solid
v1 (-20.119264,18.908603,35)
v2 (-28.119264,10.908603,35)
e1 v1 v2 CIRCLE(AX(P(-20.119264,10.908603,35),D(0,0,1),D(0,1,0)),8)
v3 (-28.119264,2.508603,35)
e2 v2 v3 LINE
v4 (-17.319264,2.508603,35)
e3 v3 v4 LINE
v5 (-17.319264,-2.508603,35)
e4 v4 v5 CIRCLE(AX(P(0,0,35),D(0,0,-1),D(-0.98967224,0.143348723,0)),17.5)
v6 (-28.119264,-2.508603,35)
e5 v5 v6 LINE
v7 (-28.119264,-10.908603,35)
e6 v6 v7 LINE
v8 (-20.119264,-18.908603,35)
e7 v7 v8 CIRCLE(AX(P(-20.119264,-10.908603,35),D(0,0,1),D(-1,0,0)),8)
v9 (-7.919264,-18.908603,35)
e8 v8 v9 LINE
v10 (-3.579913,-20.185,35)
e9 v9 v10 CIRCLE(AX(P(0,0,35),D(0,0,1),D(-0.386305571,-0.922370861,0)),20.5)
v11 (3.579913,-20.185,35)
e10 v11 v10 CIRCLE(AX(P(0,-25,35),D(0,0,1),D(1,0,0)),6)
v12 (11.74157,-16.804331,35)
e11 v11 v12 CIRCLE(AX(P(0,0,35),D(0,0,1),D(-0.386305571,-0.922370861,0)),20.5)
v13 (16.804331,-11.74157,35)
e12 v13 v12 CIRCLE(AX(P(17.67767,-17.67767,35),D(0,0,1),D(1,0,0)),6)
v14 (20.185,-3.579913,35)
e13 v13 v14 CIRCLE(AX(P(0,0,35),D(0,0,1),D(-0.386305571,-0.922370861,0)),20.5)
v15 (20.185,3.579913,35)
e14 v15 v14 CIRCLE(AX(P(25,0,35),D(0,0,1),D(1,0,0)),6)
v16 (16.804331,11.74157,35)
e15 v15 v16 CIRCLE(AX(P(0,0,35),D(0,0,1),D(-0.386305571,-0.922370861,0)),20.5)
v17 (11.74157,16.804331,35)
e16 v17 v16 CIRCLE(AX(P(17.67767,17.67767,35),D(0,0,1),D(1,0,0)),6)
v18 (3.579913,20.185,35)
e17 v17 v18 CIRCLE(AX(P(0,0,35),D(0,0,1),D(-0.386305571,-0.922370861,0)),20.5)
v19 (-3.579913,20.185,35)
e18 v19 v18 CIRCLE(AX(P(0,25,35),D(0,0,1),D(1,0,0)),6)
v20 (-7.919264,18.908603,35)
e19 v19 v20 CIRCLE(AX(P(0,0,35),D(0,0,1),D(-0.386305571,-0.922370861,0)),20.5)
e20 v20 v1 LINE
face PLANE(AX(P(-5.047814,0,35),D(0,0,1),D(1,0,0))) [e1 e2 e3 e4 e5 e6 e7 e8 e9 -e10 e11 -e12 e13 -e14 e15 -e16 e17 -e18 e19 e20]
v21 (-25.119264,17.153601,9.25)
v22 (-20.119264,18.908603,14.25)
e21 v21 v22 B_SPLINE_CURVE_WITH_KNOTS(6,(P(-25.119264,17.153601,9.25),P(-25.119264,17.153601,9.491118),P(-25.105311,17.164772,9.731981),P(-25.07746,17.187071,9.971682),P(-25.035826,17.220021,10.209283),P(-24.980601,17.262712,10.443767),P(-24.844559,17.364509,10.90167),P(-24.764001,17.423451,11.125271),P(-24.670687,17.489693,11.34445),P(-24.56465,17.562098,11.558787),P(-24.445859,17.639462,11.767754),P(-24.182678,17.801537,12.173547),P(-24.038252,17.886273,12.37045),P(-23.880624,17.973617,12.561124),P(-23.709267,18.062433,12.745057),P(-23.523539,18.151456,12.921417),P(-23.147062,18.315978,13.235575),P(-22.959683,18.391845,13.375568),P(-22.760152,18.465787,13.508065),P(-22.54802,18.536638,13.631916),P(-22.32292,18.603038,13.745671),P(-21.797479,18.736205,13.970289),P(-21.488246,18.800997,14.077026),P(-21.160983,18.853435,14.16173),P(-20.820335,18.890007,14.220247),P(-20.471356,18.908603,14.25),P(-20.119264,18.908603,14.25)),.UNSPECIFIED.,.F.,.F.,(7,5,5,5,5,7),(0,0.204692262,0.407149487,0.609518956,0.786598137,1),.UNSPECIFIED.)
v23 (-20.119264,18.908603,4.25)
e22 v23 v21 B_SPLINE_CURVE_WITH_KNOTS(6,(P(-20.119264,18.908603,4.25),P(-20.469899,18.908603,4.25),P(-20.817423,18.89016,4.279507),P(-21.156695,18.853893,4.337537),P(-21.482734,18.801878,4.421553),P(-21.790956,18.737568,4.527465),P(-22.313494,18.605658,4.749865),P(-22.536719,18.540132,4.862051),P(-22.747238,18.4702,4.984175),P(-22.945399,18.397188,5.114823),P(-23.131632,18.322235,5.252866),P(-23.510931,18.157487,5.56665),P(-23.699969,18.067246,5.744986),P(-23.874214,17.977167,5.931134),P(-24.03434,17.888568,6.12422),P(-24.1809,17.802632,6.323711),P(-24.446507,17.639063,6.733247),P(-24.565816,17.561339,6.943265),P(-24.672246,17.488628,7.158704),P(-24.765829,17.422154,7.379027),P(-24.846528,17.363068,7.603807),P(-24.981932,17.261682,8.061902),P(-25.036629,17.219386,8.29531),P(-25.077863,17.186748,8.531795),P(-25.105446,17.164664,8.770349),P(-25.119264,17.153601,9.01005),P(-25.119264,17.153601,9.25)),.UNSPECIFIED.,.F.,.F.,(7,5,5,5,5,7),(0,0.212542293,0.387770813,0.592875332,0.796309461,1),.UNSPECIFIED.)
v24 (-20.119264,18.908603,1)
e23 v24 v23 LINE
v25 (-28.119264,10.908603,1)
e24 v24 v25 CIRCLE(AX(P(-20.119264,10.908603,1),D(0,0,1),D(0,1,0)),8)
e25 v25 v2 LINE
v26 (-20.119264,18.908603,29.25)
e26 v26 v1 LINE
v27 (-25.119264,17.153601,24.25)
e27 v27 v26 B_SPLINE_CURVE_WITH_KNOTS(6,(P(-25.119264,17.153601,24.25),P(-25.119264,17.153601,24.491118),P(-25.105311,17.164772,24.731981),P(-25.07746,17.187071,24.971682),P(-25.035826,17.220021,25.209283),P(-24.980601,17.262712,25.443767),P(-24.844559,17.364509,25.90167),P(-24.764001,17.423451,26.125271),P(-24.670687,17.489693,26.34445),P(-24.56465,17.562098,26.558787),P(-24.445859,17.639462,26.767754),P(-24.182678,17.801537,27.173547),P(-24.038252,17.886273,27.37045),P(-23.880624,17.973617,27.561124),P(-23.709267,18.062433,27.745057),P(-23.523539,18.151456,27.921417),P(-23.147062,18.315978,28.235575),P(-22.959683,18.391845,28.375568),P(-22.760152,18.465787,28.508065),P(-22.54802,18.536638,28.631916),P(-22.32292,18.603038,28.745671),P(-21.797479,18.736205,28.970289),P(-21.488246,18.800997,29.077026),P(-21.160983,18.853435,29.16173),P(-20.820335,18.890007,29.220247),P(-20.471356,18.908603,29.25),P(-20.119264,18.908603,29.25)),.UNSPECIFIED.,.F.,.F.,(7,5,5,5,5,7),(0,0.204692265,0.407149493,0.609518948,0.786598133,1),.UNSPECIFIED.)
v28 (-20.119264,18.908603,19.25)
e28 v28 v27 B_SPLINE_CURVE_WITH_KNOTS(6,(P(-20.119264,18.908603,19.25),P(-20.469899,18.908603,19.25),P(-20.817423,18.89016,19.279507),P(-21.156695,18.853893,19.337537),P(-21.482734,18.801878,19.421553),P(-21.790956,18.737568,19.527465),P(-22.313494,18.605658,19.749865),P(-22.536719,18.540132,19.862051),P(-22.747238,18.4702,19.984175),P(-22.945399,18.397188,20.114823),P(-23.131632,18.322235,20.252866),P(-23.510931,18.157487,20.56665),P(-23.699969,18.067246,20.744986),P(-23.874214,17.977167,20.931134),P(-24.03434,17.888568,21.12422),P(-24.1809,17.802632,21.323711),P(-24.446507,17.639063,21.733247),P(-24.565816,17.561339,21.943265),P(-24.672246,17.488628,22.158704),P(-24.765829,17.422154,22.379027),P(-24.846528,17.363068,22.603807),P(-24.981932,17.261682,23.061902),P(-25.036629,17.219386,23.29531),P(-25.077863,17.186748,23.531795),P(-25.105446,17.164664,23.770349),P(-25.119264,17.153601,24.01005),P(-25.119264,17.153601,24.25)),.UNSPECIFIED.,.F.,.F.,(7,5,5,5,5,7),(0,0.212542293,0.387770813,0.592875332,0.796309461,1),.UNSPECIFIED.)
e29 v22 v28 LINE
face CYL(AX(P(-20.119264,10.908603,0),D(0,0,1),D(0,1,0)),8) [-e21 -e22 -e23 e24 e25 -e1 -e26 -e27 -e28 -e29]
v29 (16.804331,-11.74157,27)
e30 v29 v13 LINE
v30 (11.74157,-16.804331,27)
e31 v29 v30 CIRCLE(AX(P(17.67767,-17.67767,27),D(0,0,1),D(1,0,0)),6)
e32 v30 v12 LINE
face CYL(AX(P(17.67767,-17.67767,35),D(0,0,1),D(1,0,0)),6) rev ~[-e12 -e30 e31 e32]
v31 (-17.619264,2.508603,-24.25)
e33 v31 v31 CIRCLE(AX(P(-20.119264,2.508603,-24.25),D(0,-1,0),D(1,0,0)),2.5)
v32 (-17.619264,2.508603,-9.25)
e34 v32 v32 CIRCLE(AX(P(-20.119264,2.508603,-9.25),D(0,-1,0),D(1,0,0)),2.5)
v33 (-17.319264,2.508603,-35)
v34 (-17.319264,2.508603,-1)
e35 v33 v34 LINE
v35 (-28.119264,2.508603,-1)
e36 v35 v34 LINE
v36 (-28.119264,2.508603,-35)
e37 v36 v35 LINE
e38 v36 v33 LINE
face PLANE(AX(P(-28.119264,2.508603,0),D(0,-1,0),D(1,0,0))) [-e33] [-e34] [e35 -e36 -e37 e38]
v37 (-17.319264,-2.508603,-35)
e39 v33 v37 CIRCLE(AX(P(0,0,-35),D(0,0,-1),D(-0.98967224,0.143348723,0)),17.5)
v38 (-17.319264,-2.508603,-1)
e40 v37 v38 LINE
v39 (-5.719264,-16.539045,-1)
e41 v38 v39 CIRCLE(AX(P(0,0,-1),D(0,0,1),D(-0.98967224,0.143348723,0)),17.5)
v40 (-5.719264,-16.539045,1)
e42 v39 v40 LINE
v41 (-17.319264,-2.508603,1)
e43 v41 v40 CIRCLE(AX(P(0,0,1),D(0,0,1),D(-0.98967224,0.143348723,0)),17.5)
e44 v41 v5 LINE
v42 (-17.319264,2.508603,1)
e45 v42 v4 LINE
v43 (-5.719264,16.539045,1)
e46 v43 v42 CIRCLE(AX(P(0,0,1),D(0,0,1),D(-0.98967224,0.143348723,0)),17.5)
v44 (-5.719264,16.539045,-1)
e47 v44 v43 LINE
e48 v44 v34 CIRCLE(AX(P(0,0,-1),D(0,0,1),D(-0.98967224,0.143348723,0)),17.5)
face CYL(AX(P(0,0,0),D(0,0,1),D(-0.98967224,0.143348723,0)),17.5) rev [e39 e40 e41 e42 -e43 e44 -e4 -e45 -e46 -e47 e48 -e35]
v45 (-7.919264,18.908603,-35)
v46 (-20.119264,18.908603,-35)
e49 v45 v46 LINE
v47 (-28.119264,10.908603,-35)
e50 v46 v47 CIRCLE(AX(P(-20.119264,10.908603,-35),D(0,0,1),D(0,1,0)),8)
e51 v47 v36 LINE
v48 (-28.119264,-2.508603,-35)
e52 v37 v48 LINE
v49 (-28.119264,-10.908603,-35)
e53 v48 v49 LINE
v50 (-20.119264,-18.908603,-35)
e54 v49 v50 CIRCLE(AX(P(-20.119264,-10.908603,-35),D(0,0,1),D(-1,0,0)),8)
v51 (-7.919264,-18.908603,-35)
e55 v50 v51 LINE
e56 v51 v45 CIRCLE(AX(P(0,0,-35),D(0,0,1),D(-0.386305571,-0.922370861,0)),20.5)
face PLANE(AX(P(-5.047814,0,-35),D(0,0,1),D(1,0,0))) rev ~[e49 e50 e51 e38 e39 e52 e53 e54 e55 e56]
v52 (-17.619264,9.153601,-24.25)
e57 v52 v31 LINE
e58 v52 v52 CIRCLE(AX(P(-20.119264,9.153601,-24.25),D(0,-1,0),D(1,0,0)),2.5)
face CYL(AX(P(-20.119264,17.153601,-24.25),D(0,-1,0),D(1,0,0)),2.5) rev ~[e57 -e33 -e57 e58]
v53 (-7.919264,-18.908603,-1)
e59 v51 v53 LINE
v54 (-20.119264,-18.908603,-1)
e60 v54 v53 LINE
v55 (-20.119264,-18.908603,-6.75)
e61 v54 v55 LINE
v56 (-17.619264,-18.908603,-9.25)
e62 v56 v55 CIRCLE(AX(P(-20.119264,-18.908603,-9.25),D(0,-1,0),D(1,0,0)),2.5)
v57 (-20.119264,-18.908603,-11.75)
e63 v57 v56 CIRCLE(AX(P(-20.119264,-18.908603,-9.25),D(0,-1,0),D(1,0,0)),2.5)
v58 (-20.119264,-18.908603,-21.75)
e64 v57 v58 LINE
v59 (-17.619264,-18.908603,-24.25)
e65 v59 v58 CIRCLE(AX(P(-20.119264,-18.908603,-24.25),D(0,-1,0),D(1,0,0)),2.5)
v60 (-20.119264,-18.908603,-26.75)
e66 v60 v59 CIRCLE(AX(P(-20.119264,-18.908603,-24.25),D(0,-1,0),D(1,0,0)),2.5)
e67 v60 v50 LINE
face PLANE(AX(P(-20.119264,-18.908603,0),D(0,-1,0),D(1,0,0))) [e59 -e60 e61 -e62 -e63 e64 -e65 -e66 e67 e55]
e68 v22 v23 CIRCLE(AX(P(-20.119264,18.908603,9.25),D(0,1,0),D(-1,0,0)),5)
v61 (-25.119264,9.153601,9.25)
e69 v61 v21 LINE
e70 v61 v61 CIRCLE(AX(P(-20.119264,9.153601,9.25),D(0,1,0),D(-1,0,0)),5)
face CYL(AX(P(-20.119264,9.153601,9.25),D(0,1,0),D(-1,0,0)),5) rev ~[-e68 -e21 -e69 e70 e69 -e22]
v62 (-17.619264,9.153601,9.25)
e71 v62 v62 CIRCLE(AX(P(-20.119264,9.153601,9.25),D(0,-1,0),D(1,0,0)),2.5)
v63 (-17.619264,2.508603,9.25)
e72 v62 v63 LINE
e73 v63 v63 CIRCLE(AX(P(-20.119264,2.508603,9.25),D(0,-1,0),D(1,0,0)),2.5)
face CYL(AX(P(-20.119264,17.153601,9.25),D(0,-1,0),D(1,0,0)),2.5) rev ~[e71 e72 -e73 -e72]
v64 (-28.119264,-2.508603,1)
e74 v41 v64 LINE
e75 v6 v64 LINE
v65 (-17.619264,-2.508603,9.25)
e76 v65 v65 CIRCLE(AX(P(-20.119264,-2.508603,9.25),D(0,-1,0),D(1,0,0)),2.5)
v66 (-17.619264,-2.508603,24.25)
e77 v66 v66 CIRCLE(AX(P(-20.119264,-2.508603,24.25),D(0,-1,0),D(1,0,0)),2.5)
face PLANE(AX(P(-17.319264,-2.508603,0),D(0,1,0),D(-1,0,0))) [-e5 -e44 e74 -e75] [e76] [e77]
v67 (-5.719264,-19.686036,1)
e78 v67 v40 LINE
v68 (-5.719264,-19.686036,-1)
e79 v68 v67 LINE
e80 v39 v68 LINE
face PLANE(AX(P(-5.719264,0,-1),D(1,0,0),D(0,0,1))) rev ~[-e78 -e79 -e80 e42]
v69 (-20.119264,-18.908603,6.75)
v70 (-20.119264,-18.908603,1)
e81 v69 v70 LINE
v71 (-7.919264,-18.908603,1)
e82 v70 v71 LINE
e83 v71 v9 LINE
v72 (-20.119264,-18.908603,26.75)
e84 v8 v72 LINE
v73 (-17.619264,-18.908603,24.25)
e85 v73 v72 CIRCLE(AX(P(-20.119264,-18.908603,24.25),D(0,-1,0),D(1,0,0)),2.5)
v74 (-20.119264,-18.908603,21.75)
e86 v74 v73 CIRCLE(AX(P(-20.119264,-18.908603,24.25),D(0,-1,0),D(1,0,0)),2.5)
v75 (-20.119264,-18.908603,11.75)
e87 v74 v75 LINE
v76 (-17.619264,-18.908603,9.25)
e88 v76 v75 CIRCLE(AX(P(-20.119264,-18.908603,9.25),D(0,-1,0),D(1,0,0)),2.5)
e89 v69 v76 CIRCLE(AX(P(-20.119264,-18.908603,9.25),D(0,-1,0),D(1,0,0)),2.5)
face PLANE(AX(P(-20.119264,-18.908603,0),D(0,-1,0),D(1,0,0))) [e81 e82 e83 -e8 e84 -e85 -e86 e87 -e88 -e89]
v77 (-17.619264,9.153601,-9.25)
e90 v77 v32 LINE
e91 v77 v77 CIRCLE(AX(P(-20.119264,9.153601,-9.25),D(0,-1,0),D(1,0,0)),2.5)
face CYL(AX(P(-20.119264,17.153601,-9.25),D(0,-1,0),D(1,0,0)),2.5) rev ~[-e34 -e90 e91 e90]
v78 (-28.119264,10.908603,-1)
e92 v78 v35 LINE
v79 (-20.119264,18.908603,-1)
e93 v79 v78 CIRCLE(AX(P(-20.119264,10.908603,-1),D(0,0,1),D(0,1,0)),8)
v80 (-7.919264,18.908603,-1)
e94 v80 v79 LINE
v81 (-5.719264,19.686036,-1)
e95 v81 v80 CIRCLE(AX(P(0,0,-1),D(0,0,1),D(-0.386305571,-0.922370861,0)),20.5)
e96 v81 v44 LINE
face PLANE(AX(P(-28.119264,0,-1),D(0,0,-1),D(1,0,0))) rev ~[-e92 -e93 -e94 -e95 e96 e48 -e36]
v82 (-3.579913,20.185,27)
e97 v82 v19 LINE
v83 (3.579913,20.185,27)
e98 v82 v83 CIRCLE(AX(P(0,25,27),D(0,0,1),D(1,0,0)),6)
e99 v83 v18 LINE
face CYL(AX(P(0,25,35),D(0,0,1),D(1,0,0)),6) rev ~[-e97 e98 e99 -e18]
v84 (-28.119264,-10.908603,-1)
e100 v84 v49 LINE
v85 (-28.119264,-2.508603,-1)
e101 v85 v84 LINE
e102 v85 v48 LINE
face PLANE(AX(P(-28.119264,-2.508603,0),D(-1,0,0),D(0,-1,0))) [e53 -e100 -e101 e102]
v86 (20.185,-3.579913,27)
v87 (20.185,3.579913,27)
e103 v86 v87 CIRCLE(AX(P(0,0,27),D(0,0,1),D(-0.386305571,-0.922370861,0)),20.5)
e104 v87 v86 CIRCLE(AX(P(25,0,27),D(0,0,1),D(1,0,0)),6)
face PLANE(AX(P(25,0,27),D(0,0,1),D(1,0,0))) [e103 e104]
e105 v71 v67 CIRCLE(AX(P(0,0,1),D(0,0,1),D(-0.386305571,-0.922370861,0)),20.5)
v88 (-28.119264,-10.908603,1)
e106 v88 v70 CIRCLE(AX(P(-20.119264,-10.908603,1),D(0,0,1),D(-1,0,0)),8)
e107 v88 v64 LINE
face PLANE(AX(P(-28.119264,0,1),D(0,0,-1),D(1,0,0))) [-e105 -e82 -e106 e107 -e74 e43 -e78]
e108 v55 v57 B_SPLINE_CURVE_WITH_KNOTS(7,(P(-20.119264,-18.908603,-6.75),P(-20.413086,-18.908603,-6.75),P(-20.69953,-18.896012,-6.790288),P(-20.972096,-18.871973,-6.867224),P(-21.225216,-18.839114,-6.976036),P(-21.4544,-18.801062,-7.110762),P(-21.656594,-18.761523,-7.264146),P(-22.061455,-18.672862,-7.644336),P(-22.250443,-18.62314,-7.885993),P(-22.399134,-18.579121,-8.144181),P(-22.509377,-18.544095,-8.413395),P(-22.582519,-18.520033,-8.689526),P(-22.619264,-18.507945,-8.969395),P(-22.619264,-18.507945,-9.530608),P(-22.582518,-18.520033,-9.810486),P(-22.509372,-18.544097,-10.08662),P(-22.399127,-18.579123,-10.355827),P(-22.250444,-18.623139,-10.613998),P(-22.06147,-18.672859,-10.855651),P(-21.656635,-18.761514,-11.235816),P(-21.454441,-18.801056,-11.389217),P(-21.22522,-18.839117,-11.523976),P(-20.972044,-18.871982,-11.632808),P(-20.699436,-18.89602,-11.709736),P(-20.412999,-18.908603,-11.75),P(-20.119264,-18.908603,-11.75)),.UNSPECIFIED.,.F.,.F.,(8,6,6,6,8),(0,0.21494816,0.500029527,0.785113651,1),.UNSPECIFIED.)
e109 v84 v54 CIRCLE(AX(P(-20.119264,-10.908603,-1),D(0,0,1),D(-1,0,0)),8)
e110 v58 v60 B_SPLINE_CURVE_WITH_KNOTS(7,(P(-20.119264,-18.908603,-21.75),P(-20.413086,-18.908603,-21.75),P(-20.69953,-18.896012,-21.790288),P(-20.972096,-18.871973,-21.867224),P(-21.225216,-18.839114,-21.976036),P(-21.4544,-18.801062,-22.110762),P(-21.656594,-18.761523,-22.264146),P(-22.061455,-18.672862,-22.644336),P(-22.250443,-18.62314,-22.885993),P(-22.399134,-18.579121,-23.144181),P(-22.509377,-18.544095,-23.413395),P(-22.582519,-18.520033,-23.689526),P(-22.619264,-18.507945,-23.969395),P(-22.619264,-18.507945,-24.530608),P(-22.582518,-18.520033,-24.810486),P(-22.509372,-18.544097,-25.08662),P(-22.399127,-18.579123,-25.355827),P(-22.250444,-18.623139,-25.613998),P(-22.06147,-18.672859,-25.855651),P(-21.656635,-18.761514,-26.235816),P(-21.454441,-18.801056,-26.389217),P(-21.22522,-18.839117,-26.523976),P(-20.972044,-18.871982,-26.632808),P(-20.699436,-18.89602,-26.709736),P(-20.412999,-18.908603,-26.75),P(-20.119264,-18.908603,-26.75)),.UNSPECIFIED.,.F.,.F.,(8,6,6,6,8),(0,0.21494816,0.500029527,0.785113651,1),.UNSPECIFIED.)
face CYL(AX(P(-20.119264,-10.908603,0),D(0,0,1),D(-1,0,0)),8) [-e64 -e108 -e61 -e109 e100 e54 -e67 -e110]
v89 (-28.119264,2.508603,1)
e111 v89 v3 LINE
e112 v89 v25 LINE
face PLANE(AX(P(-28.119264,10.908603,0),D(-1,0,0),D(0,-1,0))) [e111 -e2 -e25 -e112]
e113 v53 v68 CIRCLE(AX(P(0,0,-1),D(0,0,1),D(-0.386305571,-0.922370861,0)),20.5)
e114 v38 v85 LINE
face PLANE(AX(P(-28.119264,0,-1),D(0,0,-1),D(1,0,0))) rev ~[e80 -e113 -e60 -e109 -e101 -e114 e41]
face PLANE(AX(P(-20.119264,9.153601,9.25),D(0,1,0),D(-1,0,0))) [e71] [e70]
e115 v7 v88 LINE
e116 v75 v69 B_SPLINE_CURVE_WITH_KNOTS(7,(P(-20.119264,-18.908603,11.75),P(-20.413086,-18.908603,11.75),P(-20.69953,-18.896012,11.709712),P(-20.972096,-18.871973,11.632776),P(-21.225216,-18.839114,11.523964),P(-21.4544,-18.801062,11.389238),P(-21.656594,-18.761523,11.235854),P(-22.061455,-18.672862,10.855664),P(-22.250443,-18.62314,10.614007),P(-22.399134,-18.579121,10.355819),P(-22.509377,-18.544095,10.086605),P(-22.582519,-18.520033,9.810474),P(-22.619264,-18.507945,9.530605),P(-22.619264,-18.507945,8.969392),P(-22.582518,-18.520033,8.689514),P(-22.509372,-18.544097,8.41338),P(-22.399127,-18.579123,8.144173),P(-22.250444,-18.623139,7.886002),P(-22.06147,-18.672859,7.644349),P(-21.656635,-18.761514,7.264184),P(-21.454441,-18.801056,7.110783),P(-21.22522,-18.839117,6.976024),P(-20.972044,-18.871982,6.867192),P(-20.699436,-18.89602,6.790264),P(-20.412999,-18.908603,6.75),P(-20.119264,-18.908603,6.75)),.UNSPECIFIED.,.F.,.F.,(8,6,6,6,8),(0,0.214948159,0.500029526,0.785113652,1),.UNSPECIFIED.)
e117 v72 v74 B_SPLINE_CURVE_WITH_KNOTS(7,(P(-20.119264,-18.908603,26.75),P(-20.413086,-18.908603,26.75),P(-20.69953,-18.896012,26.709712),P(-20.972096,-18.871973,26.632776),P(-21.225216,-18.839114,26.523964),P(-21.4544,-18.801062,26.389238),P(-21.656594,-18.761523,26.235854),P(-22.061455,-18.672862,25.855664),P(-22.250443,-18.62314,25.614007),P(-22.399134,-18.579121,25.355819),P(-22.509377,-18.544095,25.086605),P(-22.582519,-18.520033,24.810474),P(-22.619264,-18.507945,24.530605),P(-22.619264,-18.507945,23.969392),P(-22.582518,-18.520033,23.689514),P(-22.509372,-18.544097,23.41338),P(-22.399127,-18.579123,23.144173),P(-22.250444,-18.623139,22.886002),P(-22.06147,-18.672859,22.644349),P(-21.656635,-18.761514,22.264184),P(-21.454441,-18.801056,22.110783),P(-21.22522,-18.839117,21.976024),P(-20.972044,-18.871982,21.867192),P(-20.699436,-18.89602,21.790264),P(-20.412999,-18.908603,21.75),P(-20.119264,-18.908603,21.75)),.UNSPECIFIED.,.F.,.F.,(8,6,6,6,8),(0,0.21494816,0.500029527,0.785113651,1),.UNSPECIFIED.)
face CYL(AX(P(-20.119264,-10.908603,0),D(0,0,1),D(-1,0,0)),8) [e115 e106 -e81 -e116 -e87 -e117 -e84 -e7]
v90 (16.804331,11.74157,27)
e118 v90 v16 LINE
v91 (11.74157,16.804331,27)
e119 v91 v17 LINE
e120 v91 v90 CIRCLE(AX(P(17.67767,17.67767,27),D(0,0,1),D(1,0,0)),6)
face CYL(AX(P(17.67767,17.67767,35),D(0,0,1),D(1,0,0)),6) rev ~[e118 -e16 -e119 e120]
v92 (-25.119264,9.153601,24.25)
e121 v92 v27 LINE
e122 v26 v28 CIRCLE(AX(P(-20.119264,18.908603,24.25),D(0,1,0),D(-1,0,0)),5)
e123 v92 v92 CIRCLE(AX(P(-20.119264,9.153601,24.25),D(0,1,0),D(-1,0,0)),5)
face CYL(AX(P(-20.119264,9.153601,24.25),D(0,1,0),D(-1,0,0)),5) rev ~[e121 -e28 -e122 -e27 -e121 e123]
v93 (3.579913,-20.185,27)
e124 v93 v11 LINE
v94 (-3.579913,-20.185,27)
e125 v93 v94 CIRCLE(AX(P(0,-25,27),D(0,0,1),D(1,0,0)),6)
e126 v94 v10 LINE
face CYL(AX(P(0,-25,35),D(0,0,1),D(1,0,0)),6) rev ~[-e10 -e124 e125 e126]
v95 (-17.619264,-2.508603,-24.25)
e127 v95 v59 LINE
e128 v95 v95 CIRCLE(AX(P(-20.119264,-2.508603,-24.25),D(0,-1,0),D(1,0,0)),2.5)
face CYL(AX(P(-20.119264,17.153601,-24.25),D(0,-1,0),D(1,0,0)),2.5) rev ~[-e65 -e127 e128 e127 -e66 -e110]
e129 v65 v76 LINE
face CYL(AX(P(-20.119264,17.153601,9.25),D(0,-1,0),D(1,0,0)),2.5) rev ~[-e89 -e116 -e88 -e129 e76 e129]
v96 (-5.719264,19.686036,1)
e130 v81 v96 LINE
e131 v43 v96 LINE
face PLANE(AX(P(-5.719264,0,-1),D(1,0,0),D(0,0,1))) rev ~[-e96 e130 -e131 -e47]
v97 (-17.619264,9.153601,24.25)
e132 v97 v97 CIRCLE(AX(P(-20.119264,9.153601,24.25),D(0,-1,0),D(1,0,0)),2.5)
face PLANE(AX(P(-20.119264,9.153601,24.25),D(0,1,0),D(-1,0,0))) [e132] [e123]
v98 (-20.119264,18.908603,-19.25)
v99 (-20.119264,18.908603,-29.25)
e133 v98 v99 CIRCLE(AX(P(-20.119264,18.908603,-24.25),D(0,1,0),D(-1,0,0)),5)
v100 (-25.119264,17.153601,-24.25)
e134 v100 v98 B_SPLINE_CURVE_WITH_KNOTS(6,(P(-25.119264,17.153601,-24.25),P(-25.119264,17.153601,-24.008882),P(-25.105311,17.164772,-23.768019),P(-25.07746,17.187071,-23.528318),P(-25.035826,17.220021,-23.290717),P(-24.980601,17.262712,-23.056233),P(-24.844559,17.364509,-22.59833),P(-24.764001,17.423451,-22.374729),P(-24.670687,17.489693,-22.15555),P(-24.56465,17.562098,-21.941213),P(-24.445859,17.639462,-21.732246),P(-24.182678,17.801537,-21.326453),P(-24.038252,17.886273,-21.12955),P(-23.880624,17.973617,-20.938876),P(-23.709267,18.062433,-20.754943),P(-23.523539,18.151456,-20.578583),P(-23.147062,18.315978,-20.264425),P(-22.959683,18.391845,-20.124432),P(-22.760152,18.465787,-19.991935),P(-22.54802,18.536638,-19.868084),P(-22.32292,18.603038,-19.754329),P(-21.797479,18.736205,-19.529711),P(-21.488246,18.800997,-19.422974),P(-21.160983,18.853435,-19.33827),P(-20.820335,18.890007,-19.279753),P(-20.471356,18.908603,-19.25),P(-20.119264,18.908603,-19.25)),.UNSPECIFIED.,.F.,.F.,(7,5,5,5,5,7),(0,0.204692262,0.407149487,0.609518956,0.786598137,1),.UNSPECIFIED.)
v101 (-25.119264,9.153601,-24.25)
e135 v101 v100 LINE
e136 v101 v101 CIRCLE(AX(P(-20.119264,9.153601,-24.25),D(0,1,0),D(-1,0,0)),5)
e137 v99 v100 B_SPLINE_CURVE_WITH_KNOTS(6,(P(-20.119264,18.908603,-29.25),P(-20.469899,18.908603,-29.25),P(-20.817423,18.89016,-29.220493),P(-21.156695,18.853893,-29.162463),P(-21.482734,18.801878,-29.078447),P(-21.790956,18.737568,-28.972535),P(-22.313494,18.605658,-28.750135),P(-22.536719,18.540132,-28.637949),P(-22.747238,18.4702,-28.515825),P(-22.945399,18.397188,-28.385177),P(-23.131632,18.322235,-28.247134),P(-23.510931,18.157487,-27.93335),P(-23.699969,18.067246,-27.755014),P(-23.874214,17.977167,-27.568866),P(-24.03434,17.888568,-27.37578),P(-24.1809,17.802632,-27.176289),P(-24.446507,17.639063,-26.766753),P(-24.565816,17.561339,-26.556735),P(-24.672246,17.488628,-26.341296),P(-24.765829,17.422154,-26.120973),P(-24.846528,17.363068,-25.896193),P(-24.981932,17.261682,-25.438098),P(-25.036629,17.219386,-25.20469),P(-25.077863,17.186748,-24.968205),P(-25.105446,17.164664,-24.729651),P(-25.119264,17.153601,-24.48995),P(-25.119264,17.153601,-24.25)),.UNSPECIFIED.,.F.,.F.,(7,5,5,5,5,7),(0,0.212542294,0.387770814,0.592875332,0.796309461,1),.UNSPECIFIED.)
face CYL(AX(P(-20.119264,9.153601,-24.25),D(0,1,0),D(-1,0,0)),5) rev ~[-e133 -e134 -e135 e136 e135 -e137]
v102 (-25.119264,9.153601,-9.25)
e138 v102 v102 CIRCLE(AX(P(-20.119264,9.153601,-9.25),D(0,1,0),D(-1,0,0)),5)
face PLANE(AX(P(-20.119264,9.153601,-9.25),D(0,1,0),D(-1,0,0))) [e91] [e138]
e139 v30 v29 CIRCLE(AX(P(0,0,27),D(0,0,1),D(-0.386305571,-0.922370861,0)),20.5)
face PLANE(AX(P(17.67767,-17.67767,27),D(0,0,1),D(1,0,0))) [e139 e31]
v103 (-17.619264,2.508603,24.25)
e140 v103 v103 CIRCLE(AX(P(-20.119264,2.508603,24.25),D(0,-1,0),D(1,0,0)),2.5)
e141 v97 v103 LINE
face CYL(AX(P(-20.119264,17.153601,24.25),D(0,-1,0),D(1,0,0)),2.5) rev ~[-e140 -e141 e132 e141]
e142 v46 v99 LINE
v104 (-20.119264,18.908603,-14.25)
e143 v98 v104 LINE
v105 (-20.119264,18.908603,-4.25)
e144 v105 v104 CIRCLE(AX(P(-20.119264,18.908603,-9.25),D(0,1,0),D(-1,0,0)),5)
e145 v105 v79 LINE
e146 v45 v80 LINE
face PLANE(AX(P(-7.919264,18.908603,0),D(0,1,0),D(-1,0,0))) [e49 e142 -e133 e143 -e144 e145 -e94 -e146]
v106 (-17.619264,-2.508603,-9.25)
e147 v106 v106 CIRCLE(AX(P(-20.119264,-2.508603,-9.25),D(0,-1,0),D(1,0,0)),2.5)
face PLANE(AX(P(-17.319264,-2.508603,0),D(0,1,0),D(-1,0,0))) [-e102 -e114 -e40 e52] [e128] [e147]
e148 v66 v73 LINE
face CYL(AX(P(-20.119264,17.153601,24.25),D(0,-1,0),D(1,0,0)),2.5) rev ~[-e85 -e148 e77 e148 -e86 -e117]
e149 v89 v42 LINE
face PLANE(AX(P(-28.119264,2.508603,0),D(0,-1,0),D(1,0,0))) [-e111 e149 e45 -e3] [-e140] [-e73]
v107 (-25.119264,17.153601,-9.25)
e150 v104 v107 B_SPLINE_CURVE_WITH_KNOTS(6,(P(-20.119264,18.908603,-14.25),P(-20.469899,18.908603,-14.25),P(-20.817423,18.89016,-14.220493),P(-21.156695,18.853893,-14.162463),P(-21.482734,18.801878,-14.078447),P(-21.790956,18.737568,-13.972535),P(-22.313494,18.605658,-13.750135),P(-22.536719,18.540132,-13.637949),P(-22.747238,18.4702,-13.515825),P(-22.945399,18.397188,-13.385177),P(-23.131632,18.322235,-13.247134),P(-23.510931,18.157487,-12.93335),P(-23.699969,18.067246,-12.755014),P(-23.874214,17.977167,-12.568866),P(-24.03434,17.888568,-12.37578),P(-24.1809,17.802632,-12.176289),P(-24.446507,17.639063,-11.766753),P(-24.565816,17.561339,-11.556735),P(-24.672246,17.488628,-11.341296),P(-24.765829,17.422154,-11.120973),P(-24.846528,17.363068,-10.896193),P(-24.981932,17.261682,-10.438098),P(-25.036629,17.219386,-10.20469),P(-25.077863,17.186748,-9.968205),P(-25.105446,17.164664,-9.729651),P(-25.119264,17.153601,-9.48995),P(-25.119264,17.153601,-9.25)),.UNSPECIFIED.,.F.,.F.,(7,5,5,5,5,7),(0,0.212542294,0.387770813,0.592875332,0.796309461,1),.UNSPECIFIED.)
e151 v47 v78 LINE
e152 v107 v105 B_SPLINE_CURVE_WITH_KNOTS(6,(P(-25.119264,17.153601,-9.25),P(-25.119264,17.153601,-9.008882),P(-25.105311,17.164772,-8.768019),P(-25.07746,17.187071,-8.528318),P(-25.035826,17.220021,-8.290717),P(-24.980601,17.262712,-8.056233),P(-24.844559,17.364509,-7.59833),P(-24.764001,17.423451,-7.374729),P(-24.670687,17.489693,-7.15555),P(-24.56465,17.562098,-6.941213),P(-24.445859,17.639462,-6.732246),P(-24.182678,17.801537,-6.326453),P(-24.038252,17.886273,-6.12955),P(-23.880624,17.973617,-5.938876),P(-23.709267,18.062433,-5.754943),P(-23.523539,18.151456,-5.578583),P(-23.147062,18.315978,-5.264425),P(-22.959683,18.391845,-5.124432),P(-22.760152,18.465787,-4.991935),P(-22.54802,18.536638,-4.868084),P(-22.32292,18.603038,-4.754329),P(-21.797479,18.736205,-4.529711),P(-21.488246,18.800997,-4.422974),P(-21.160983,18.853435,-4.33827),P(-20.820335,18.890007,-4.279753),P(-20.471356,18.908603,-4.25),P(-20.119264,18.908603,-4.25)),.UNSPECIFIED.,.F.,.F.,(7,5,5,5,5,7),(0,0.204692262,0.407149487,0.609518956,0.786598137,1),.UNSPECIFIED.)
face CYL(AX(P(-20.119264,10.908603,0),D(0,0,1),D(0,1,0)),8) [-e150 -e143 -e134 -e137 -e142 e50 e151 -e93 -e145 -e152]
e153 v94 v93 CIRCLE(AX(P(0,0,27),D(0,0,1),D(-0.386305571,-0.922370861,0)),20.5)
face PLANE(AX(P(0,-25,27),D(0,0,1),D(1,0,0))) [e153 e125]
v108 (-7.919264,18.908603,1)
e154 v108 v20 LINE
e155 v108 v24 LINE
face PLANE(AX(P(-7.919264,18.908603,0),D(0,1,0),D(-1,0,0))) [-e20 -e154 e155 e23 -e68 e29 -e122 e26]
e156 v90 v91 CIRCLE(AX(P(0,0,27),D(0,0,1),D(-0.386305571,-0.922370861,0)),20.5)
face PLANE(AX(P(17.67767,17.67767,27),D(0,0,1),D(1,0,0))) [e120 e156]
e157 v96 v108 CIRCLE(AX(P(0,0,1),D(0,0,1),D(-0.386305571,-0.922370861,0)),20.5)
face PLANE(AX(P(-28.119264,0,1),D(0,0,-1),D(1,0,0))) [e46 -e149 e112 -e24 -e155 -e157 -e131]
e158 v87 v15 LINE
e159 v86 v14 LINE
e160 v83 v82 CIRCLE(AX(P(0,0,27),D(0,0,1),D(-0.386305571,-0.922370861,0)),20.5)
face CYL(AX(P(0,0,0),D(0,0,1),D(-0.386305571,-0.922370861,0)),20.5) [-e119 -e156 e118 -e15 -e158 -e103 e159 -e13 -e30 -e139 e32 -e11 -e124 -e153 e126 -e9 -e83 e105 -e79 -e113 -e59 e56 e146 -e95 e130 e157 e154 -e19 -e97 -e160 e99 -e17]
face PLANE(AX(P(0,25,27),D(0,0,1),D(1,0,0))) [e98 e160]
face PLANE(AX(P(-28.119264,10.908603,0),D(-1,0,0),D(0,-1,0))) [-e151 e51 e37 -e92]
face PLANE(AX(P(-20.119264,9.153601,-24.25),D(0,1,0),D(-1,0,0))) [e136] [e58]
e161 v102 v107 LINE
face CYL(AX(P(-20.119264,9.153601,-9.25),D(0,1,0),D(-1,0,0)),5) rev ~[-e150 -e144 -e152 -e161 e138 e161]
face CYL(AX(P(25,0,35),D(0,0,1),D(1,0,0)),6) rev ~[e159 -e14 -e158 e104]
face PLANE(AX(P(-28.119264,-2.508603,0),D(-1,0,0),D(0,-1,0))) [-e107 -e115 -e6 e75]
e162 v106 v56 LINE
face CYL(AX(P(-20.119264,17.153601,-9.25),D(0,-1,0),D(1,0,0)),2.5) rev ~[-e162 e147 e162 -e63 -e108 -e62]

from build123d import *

# Parameters (mm, degrees)
F1_DEPTH       = 35
F3_D           = 5
F3_START       = 1.7550021
F3_CBORE_D     = 10
F3_CBORE_DEPTH = 8
F4_W           = 22.4
F4_H           = 2
F5_DEPTH       = 25
F6_R           = 6
F7_DEPTH       = 8


with BuildPart() as f1:
    # F0 (on Top) → F1 (new body, symmetric)
    with BuildSketch(Plane.XY):
        with BuildLine():
            Line((-20.1192642082, -18.9086026559), (-7.9192642082, -18.9086026559))
            ThreePointArc((-7.9192642082, -18.9086026559), (20.5, 0), (-7.9192642082, 18.9086026559))
            Line((-7.9192642082, 18.9086026559), (-20.1192642082, 18.9086026559))
            ThreePointArc((-20.1192642082, 18.9086026559), (-25.7761184577, 16.5654569054), (-28.1192642082, 10.9086026559))
            Line((-28.1192642082, 10.9086026559), (-28.1192642082, 2.5086026559))
            Line((-28.1192642082, 2.5086026559), (-17.3192642082, 2.5086026559))
            ThreePointArc((-17.3192642082, 2.5086026559), (17.5, 0), (-17.3192642082, -2.5086026559))
            Line((-17.3192642082, -2.5086026559), (-28.1192642082, -2.5086026559))
            Line((-28.1192642082, -2.5086026559), (-28.1192642082, -10.9086026559))
            ThreePointArc((-28.1192642082, -10.9086026559), (-25.7761184577, -16.5654569054), (-20.1192642082, -18.9086026559))
        make_face()
    extrude(amount=F1_DEPTH, both=True)

    # F3 (through all)
    # its depths count from where the whole tool has entered the part; down to there all is cleared
    with Locations(Plane(origin=(0, 18.9086026559, 0), x_dir=(-1, 0, 0), z_dir=(0, 1, 0)).offset(-F3_START)):
        with Locations((20.1192642082, 24.25), (20.1192642082, 9.25), (20.1192642082, -9.25), (20.1192642082, -24.25)):
            CounterBoreHole(F3_D / 2, F3_CBORE_D / 2, F3_CBORE_DEPTH)

    # F4 (on Front) → F5 (cut, symmetric)
    with BuildSketch(Plane.XZ):
        with Locations((-16.9192642082, 0)):
            Rectangle(F4_W, F4_H)
    extrude(amount=F5_DEPTH, both=True, mode=Mode.SUBTRACT)

    # F6 (on face) → F7 (cut)
    with BuildSketch(Plane.XY.offset(35)):
        with Locations((0, -25)):
            Circle(F6_R)
        with Locations((17.6776695297, -17.6776695297)):
            Circle(F6_R)
        with Locations((25, 0)):
            Circle(F6_R)
        with Locations((17.6776695297, 17.6776695297)):
            Circle(F6_R)
        with Locations((0, 25)):
            Circle(F6_R)
    extrude(amount=-F7_DEPTH, mode=Mode.SUBTRACT)


solid = f1.part
